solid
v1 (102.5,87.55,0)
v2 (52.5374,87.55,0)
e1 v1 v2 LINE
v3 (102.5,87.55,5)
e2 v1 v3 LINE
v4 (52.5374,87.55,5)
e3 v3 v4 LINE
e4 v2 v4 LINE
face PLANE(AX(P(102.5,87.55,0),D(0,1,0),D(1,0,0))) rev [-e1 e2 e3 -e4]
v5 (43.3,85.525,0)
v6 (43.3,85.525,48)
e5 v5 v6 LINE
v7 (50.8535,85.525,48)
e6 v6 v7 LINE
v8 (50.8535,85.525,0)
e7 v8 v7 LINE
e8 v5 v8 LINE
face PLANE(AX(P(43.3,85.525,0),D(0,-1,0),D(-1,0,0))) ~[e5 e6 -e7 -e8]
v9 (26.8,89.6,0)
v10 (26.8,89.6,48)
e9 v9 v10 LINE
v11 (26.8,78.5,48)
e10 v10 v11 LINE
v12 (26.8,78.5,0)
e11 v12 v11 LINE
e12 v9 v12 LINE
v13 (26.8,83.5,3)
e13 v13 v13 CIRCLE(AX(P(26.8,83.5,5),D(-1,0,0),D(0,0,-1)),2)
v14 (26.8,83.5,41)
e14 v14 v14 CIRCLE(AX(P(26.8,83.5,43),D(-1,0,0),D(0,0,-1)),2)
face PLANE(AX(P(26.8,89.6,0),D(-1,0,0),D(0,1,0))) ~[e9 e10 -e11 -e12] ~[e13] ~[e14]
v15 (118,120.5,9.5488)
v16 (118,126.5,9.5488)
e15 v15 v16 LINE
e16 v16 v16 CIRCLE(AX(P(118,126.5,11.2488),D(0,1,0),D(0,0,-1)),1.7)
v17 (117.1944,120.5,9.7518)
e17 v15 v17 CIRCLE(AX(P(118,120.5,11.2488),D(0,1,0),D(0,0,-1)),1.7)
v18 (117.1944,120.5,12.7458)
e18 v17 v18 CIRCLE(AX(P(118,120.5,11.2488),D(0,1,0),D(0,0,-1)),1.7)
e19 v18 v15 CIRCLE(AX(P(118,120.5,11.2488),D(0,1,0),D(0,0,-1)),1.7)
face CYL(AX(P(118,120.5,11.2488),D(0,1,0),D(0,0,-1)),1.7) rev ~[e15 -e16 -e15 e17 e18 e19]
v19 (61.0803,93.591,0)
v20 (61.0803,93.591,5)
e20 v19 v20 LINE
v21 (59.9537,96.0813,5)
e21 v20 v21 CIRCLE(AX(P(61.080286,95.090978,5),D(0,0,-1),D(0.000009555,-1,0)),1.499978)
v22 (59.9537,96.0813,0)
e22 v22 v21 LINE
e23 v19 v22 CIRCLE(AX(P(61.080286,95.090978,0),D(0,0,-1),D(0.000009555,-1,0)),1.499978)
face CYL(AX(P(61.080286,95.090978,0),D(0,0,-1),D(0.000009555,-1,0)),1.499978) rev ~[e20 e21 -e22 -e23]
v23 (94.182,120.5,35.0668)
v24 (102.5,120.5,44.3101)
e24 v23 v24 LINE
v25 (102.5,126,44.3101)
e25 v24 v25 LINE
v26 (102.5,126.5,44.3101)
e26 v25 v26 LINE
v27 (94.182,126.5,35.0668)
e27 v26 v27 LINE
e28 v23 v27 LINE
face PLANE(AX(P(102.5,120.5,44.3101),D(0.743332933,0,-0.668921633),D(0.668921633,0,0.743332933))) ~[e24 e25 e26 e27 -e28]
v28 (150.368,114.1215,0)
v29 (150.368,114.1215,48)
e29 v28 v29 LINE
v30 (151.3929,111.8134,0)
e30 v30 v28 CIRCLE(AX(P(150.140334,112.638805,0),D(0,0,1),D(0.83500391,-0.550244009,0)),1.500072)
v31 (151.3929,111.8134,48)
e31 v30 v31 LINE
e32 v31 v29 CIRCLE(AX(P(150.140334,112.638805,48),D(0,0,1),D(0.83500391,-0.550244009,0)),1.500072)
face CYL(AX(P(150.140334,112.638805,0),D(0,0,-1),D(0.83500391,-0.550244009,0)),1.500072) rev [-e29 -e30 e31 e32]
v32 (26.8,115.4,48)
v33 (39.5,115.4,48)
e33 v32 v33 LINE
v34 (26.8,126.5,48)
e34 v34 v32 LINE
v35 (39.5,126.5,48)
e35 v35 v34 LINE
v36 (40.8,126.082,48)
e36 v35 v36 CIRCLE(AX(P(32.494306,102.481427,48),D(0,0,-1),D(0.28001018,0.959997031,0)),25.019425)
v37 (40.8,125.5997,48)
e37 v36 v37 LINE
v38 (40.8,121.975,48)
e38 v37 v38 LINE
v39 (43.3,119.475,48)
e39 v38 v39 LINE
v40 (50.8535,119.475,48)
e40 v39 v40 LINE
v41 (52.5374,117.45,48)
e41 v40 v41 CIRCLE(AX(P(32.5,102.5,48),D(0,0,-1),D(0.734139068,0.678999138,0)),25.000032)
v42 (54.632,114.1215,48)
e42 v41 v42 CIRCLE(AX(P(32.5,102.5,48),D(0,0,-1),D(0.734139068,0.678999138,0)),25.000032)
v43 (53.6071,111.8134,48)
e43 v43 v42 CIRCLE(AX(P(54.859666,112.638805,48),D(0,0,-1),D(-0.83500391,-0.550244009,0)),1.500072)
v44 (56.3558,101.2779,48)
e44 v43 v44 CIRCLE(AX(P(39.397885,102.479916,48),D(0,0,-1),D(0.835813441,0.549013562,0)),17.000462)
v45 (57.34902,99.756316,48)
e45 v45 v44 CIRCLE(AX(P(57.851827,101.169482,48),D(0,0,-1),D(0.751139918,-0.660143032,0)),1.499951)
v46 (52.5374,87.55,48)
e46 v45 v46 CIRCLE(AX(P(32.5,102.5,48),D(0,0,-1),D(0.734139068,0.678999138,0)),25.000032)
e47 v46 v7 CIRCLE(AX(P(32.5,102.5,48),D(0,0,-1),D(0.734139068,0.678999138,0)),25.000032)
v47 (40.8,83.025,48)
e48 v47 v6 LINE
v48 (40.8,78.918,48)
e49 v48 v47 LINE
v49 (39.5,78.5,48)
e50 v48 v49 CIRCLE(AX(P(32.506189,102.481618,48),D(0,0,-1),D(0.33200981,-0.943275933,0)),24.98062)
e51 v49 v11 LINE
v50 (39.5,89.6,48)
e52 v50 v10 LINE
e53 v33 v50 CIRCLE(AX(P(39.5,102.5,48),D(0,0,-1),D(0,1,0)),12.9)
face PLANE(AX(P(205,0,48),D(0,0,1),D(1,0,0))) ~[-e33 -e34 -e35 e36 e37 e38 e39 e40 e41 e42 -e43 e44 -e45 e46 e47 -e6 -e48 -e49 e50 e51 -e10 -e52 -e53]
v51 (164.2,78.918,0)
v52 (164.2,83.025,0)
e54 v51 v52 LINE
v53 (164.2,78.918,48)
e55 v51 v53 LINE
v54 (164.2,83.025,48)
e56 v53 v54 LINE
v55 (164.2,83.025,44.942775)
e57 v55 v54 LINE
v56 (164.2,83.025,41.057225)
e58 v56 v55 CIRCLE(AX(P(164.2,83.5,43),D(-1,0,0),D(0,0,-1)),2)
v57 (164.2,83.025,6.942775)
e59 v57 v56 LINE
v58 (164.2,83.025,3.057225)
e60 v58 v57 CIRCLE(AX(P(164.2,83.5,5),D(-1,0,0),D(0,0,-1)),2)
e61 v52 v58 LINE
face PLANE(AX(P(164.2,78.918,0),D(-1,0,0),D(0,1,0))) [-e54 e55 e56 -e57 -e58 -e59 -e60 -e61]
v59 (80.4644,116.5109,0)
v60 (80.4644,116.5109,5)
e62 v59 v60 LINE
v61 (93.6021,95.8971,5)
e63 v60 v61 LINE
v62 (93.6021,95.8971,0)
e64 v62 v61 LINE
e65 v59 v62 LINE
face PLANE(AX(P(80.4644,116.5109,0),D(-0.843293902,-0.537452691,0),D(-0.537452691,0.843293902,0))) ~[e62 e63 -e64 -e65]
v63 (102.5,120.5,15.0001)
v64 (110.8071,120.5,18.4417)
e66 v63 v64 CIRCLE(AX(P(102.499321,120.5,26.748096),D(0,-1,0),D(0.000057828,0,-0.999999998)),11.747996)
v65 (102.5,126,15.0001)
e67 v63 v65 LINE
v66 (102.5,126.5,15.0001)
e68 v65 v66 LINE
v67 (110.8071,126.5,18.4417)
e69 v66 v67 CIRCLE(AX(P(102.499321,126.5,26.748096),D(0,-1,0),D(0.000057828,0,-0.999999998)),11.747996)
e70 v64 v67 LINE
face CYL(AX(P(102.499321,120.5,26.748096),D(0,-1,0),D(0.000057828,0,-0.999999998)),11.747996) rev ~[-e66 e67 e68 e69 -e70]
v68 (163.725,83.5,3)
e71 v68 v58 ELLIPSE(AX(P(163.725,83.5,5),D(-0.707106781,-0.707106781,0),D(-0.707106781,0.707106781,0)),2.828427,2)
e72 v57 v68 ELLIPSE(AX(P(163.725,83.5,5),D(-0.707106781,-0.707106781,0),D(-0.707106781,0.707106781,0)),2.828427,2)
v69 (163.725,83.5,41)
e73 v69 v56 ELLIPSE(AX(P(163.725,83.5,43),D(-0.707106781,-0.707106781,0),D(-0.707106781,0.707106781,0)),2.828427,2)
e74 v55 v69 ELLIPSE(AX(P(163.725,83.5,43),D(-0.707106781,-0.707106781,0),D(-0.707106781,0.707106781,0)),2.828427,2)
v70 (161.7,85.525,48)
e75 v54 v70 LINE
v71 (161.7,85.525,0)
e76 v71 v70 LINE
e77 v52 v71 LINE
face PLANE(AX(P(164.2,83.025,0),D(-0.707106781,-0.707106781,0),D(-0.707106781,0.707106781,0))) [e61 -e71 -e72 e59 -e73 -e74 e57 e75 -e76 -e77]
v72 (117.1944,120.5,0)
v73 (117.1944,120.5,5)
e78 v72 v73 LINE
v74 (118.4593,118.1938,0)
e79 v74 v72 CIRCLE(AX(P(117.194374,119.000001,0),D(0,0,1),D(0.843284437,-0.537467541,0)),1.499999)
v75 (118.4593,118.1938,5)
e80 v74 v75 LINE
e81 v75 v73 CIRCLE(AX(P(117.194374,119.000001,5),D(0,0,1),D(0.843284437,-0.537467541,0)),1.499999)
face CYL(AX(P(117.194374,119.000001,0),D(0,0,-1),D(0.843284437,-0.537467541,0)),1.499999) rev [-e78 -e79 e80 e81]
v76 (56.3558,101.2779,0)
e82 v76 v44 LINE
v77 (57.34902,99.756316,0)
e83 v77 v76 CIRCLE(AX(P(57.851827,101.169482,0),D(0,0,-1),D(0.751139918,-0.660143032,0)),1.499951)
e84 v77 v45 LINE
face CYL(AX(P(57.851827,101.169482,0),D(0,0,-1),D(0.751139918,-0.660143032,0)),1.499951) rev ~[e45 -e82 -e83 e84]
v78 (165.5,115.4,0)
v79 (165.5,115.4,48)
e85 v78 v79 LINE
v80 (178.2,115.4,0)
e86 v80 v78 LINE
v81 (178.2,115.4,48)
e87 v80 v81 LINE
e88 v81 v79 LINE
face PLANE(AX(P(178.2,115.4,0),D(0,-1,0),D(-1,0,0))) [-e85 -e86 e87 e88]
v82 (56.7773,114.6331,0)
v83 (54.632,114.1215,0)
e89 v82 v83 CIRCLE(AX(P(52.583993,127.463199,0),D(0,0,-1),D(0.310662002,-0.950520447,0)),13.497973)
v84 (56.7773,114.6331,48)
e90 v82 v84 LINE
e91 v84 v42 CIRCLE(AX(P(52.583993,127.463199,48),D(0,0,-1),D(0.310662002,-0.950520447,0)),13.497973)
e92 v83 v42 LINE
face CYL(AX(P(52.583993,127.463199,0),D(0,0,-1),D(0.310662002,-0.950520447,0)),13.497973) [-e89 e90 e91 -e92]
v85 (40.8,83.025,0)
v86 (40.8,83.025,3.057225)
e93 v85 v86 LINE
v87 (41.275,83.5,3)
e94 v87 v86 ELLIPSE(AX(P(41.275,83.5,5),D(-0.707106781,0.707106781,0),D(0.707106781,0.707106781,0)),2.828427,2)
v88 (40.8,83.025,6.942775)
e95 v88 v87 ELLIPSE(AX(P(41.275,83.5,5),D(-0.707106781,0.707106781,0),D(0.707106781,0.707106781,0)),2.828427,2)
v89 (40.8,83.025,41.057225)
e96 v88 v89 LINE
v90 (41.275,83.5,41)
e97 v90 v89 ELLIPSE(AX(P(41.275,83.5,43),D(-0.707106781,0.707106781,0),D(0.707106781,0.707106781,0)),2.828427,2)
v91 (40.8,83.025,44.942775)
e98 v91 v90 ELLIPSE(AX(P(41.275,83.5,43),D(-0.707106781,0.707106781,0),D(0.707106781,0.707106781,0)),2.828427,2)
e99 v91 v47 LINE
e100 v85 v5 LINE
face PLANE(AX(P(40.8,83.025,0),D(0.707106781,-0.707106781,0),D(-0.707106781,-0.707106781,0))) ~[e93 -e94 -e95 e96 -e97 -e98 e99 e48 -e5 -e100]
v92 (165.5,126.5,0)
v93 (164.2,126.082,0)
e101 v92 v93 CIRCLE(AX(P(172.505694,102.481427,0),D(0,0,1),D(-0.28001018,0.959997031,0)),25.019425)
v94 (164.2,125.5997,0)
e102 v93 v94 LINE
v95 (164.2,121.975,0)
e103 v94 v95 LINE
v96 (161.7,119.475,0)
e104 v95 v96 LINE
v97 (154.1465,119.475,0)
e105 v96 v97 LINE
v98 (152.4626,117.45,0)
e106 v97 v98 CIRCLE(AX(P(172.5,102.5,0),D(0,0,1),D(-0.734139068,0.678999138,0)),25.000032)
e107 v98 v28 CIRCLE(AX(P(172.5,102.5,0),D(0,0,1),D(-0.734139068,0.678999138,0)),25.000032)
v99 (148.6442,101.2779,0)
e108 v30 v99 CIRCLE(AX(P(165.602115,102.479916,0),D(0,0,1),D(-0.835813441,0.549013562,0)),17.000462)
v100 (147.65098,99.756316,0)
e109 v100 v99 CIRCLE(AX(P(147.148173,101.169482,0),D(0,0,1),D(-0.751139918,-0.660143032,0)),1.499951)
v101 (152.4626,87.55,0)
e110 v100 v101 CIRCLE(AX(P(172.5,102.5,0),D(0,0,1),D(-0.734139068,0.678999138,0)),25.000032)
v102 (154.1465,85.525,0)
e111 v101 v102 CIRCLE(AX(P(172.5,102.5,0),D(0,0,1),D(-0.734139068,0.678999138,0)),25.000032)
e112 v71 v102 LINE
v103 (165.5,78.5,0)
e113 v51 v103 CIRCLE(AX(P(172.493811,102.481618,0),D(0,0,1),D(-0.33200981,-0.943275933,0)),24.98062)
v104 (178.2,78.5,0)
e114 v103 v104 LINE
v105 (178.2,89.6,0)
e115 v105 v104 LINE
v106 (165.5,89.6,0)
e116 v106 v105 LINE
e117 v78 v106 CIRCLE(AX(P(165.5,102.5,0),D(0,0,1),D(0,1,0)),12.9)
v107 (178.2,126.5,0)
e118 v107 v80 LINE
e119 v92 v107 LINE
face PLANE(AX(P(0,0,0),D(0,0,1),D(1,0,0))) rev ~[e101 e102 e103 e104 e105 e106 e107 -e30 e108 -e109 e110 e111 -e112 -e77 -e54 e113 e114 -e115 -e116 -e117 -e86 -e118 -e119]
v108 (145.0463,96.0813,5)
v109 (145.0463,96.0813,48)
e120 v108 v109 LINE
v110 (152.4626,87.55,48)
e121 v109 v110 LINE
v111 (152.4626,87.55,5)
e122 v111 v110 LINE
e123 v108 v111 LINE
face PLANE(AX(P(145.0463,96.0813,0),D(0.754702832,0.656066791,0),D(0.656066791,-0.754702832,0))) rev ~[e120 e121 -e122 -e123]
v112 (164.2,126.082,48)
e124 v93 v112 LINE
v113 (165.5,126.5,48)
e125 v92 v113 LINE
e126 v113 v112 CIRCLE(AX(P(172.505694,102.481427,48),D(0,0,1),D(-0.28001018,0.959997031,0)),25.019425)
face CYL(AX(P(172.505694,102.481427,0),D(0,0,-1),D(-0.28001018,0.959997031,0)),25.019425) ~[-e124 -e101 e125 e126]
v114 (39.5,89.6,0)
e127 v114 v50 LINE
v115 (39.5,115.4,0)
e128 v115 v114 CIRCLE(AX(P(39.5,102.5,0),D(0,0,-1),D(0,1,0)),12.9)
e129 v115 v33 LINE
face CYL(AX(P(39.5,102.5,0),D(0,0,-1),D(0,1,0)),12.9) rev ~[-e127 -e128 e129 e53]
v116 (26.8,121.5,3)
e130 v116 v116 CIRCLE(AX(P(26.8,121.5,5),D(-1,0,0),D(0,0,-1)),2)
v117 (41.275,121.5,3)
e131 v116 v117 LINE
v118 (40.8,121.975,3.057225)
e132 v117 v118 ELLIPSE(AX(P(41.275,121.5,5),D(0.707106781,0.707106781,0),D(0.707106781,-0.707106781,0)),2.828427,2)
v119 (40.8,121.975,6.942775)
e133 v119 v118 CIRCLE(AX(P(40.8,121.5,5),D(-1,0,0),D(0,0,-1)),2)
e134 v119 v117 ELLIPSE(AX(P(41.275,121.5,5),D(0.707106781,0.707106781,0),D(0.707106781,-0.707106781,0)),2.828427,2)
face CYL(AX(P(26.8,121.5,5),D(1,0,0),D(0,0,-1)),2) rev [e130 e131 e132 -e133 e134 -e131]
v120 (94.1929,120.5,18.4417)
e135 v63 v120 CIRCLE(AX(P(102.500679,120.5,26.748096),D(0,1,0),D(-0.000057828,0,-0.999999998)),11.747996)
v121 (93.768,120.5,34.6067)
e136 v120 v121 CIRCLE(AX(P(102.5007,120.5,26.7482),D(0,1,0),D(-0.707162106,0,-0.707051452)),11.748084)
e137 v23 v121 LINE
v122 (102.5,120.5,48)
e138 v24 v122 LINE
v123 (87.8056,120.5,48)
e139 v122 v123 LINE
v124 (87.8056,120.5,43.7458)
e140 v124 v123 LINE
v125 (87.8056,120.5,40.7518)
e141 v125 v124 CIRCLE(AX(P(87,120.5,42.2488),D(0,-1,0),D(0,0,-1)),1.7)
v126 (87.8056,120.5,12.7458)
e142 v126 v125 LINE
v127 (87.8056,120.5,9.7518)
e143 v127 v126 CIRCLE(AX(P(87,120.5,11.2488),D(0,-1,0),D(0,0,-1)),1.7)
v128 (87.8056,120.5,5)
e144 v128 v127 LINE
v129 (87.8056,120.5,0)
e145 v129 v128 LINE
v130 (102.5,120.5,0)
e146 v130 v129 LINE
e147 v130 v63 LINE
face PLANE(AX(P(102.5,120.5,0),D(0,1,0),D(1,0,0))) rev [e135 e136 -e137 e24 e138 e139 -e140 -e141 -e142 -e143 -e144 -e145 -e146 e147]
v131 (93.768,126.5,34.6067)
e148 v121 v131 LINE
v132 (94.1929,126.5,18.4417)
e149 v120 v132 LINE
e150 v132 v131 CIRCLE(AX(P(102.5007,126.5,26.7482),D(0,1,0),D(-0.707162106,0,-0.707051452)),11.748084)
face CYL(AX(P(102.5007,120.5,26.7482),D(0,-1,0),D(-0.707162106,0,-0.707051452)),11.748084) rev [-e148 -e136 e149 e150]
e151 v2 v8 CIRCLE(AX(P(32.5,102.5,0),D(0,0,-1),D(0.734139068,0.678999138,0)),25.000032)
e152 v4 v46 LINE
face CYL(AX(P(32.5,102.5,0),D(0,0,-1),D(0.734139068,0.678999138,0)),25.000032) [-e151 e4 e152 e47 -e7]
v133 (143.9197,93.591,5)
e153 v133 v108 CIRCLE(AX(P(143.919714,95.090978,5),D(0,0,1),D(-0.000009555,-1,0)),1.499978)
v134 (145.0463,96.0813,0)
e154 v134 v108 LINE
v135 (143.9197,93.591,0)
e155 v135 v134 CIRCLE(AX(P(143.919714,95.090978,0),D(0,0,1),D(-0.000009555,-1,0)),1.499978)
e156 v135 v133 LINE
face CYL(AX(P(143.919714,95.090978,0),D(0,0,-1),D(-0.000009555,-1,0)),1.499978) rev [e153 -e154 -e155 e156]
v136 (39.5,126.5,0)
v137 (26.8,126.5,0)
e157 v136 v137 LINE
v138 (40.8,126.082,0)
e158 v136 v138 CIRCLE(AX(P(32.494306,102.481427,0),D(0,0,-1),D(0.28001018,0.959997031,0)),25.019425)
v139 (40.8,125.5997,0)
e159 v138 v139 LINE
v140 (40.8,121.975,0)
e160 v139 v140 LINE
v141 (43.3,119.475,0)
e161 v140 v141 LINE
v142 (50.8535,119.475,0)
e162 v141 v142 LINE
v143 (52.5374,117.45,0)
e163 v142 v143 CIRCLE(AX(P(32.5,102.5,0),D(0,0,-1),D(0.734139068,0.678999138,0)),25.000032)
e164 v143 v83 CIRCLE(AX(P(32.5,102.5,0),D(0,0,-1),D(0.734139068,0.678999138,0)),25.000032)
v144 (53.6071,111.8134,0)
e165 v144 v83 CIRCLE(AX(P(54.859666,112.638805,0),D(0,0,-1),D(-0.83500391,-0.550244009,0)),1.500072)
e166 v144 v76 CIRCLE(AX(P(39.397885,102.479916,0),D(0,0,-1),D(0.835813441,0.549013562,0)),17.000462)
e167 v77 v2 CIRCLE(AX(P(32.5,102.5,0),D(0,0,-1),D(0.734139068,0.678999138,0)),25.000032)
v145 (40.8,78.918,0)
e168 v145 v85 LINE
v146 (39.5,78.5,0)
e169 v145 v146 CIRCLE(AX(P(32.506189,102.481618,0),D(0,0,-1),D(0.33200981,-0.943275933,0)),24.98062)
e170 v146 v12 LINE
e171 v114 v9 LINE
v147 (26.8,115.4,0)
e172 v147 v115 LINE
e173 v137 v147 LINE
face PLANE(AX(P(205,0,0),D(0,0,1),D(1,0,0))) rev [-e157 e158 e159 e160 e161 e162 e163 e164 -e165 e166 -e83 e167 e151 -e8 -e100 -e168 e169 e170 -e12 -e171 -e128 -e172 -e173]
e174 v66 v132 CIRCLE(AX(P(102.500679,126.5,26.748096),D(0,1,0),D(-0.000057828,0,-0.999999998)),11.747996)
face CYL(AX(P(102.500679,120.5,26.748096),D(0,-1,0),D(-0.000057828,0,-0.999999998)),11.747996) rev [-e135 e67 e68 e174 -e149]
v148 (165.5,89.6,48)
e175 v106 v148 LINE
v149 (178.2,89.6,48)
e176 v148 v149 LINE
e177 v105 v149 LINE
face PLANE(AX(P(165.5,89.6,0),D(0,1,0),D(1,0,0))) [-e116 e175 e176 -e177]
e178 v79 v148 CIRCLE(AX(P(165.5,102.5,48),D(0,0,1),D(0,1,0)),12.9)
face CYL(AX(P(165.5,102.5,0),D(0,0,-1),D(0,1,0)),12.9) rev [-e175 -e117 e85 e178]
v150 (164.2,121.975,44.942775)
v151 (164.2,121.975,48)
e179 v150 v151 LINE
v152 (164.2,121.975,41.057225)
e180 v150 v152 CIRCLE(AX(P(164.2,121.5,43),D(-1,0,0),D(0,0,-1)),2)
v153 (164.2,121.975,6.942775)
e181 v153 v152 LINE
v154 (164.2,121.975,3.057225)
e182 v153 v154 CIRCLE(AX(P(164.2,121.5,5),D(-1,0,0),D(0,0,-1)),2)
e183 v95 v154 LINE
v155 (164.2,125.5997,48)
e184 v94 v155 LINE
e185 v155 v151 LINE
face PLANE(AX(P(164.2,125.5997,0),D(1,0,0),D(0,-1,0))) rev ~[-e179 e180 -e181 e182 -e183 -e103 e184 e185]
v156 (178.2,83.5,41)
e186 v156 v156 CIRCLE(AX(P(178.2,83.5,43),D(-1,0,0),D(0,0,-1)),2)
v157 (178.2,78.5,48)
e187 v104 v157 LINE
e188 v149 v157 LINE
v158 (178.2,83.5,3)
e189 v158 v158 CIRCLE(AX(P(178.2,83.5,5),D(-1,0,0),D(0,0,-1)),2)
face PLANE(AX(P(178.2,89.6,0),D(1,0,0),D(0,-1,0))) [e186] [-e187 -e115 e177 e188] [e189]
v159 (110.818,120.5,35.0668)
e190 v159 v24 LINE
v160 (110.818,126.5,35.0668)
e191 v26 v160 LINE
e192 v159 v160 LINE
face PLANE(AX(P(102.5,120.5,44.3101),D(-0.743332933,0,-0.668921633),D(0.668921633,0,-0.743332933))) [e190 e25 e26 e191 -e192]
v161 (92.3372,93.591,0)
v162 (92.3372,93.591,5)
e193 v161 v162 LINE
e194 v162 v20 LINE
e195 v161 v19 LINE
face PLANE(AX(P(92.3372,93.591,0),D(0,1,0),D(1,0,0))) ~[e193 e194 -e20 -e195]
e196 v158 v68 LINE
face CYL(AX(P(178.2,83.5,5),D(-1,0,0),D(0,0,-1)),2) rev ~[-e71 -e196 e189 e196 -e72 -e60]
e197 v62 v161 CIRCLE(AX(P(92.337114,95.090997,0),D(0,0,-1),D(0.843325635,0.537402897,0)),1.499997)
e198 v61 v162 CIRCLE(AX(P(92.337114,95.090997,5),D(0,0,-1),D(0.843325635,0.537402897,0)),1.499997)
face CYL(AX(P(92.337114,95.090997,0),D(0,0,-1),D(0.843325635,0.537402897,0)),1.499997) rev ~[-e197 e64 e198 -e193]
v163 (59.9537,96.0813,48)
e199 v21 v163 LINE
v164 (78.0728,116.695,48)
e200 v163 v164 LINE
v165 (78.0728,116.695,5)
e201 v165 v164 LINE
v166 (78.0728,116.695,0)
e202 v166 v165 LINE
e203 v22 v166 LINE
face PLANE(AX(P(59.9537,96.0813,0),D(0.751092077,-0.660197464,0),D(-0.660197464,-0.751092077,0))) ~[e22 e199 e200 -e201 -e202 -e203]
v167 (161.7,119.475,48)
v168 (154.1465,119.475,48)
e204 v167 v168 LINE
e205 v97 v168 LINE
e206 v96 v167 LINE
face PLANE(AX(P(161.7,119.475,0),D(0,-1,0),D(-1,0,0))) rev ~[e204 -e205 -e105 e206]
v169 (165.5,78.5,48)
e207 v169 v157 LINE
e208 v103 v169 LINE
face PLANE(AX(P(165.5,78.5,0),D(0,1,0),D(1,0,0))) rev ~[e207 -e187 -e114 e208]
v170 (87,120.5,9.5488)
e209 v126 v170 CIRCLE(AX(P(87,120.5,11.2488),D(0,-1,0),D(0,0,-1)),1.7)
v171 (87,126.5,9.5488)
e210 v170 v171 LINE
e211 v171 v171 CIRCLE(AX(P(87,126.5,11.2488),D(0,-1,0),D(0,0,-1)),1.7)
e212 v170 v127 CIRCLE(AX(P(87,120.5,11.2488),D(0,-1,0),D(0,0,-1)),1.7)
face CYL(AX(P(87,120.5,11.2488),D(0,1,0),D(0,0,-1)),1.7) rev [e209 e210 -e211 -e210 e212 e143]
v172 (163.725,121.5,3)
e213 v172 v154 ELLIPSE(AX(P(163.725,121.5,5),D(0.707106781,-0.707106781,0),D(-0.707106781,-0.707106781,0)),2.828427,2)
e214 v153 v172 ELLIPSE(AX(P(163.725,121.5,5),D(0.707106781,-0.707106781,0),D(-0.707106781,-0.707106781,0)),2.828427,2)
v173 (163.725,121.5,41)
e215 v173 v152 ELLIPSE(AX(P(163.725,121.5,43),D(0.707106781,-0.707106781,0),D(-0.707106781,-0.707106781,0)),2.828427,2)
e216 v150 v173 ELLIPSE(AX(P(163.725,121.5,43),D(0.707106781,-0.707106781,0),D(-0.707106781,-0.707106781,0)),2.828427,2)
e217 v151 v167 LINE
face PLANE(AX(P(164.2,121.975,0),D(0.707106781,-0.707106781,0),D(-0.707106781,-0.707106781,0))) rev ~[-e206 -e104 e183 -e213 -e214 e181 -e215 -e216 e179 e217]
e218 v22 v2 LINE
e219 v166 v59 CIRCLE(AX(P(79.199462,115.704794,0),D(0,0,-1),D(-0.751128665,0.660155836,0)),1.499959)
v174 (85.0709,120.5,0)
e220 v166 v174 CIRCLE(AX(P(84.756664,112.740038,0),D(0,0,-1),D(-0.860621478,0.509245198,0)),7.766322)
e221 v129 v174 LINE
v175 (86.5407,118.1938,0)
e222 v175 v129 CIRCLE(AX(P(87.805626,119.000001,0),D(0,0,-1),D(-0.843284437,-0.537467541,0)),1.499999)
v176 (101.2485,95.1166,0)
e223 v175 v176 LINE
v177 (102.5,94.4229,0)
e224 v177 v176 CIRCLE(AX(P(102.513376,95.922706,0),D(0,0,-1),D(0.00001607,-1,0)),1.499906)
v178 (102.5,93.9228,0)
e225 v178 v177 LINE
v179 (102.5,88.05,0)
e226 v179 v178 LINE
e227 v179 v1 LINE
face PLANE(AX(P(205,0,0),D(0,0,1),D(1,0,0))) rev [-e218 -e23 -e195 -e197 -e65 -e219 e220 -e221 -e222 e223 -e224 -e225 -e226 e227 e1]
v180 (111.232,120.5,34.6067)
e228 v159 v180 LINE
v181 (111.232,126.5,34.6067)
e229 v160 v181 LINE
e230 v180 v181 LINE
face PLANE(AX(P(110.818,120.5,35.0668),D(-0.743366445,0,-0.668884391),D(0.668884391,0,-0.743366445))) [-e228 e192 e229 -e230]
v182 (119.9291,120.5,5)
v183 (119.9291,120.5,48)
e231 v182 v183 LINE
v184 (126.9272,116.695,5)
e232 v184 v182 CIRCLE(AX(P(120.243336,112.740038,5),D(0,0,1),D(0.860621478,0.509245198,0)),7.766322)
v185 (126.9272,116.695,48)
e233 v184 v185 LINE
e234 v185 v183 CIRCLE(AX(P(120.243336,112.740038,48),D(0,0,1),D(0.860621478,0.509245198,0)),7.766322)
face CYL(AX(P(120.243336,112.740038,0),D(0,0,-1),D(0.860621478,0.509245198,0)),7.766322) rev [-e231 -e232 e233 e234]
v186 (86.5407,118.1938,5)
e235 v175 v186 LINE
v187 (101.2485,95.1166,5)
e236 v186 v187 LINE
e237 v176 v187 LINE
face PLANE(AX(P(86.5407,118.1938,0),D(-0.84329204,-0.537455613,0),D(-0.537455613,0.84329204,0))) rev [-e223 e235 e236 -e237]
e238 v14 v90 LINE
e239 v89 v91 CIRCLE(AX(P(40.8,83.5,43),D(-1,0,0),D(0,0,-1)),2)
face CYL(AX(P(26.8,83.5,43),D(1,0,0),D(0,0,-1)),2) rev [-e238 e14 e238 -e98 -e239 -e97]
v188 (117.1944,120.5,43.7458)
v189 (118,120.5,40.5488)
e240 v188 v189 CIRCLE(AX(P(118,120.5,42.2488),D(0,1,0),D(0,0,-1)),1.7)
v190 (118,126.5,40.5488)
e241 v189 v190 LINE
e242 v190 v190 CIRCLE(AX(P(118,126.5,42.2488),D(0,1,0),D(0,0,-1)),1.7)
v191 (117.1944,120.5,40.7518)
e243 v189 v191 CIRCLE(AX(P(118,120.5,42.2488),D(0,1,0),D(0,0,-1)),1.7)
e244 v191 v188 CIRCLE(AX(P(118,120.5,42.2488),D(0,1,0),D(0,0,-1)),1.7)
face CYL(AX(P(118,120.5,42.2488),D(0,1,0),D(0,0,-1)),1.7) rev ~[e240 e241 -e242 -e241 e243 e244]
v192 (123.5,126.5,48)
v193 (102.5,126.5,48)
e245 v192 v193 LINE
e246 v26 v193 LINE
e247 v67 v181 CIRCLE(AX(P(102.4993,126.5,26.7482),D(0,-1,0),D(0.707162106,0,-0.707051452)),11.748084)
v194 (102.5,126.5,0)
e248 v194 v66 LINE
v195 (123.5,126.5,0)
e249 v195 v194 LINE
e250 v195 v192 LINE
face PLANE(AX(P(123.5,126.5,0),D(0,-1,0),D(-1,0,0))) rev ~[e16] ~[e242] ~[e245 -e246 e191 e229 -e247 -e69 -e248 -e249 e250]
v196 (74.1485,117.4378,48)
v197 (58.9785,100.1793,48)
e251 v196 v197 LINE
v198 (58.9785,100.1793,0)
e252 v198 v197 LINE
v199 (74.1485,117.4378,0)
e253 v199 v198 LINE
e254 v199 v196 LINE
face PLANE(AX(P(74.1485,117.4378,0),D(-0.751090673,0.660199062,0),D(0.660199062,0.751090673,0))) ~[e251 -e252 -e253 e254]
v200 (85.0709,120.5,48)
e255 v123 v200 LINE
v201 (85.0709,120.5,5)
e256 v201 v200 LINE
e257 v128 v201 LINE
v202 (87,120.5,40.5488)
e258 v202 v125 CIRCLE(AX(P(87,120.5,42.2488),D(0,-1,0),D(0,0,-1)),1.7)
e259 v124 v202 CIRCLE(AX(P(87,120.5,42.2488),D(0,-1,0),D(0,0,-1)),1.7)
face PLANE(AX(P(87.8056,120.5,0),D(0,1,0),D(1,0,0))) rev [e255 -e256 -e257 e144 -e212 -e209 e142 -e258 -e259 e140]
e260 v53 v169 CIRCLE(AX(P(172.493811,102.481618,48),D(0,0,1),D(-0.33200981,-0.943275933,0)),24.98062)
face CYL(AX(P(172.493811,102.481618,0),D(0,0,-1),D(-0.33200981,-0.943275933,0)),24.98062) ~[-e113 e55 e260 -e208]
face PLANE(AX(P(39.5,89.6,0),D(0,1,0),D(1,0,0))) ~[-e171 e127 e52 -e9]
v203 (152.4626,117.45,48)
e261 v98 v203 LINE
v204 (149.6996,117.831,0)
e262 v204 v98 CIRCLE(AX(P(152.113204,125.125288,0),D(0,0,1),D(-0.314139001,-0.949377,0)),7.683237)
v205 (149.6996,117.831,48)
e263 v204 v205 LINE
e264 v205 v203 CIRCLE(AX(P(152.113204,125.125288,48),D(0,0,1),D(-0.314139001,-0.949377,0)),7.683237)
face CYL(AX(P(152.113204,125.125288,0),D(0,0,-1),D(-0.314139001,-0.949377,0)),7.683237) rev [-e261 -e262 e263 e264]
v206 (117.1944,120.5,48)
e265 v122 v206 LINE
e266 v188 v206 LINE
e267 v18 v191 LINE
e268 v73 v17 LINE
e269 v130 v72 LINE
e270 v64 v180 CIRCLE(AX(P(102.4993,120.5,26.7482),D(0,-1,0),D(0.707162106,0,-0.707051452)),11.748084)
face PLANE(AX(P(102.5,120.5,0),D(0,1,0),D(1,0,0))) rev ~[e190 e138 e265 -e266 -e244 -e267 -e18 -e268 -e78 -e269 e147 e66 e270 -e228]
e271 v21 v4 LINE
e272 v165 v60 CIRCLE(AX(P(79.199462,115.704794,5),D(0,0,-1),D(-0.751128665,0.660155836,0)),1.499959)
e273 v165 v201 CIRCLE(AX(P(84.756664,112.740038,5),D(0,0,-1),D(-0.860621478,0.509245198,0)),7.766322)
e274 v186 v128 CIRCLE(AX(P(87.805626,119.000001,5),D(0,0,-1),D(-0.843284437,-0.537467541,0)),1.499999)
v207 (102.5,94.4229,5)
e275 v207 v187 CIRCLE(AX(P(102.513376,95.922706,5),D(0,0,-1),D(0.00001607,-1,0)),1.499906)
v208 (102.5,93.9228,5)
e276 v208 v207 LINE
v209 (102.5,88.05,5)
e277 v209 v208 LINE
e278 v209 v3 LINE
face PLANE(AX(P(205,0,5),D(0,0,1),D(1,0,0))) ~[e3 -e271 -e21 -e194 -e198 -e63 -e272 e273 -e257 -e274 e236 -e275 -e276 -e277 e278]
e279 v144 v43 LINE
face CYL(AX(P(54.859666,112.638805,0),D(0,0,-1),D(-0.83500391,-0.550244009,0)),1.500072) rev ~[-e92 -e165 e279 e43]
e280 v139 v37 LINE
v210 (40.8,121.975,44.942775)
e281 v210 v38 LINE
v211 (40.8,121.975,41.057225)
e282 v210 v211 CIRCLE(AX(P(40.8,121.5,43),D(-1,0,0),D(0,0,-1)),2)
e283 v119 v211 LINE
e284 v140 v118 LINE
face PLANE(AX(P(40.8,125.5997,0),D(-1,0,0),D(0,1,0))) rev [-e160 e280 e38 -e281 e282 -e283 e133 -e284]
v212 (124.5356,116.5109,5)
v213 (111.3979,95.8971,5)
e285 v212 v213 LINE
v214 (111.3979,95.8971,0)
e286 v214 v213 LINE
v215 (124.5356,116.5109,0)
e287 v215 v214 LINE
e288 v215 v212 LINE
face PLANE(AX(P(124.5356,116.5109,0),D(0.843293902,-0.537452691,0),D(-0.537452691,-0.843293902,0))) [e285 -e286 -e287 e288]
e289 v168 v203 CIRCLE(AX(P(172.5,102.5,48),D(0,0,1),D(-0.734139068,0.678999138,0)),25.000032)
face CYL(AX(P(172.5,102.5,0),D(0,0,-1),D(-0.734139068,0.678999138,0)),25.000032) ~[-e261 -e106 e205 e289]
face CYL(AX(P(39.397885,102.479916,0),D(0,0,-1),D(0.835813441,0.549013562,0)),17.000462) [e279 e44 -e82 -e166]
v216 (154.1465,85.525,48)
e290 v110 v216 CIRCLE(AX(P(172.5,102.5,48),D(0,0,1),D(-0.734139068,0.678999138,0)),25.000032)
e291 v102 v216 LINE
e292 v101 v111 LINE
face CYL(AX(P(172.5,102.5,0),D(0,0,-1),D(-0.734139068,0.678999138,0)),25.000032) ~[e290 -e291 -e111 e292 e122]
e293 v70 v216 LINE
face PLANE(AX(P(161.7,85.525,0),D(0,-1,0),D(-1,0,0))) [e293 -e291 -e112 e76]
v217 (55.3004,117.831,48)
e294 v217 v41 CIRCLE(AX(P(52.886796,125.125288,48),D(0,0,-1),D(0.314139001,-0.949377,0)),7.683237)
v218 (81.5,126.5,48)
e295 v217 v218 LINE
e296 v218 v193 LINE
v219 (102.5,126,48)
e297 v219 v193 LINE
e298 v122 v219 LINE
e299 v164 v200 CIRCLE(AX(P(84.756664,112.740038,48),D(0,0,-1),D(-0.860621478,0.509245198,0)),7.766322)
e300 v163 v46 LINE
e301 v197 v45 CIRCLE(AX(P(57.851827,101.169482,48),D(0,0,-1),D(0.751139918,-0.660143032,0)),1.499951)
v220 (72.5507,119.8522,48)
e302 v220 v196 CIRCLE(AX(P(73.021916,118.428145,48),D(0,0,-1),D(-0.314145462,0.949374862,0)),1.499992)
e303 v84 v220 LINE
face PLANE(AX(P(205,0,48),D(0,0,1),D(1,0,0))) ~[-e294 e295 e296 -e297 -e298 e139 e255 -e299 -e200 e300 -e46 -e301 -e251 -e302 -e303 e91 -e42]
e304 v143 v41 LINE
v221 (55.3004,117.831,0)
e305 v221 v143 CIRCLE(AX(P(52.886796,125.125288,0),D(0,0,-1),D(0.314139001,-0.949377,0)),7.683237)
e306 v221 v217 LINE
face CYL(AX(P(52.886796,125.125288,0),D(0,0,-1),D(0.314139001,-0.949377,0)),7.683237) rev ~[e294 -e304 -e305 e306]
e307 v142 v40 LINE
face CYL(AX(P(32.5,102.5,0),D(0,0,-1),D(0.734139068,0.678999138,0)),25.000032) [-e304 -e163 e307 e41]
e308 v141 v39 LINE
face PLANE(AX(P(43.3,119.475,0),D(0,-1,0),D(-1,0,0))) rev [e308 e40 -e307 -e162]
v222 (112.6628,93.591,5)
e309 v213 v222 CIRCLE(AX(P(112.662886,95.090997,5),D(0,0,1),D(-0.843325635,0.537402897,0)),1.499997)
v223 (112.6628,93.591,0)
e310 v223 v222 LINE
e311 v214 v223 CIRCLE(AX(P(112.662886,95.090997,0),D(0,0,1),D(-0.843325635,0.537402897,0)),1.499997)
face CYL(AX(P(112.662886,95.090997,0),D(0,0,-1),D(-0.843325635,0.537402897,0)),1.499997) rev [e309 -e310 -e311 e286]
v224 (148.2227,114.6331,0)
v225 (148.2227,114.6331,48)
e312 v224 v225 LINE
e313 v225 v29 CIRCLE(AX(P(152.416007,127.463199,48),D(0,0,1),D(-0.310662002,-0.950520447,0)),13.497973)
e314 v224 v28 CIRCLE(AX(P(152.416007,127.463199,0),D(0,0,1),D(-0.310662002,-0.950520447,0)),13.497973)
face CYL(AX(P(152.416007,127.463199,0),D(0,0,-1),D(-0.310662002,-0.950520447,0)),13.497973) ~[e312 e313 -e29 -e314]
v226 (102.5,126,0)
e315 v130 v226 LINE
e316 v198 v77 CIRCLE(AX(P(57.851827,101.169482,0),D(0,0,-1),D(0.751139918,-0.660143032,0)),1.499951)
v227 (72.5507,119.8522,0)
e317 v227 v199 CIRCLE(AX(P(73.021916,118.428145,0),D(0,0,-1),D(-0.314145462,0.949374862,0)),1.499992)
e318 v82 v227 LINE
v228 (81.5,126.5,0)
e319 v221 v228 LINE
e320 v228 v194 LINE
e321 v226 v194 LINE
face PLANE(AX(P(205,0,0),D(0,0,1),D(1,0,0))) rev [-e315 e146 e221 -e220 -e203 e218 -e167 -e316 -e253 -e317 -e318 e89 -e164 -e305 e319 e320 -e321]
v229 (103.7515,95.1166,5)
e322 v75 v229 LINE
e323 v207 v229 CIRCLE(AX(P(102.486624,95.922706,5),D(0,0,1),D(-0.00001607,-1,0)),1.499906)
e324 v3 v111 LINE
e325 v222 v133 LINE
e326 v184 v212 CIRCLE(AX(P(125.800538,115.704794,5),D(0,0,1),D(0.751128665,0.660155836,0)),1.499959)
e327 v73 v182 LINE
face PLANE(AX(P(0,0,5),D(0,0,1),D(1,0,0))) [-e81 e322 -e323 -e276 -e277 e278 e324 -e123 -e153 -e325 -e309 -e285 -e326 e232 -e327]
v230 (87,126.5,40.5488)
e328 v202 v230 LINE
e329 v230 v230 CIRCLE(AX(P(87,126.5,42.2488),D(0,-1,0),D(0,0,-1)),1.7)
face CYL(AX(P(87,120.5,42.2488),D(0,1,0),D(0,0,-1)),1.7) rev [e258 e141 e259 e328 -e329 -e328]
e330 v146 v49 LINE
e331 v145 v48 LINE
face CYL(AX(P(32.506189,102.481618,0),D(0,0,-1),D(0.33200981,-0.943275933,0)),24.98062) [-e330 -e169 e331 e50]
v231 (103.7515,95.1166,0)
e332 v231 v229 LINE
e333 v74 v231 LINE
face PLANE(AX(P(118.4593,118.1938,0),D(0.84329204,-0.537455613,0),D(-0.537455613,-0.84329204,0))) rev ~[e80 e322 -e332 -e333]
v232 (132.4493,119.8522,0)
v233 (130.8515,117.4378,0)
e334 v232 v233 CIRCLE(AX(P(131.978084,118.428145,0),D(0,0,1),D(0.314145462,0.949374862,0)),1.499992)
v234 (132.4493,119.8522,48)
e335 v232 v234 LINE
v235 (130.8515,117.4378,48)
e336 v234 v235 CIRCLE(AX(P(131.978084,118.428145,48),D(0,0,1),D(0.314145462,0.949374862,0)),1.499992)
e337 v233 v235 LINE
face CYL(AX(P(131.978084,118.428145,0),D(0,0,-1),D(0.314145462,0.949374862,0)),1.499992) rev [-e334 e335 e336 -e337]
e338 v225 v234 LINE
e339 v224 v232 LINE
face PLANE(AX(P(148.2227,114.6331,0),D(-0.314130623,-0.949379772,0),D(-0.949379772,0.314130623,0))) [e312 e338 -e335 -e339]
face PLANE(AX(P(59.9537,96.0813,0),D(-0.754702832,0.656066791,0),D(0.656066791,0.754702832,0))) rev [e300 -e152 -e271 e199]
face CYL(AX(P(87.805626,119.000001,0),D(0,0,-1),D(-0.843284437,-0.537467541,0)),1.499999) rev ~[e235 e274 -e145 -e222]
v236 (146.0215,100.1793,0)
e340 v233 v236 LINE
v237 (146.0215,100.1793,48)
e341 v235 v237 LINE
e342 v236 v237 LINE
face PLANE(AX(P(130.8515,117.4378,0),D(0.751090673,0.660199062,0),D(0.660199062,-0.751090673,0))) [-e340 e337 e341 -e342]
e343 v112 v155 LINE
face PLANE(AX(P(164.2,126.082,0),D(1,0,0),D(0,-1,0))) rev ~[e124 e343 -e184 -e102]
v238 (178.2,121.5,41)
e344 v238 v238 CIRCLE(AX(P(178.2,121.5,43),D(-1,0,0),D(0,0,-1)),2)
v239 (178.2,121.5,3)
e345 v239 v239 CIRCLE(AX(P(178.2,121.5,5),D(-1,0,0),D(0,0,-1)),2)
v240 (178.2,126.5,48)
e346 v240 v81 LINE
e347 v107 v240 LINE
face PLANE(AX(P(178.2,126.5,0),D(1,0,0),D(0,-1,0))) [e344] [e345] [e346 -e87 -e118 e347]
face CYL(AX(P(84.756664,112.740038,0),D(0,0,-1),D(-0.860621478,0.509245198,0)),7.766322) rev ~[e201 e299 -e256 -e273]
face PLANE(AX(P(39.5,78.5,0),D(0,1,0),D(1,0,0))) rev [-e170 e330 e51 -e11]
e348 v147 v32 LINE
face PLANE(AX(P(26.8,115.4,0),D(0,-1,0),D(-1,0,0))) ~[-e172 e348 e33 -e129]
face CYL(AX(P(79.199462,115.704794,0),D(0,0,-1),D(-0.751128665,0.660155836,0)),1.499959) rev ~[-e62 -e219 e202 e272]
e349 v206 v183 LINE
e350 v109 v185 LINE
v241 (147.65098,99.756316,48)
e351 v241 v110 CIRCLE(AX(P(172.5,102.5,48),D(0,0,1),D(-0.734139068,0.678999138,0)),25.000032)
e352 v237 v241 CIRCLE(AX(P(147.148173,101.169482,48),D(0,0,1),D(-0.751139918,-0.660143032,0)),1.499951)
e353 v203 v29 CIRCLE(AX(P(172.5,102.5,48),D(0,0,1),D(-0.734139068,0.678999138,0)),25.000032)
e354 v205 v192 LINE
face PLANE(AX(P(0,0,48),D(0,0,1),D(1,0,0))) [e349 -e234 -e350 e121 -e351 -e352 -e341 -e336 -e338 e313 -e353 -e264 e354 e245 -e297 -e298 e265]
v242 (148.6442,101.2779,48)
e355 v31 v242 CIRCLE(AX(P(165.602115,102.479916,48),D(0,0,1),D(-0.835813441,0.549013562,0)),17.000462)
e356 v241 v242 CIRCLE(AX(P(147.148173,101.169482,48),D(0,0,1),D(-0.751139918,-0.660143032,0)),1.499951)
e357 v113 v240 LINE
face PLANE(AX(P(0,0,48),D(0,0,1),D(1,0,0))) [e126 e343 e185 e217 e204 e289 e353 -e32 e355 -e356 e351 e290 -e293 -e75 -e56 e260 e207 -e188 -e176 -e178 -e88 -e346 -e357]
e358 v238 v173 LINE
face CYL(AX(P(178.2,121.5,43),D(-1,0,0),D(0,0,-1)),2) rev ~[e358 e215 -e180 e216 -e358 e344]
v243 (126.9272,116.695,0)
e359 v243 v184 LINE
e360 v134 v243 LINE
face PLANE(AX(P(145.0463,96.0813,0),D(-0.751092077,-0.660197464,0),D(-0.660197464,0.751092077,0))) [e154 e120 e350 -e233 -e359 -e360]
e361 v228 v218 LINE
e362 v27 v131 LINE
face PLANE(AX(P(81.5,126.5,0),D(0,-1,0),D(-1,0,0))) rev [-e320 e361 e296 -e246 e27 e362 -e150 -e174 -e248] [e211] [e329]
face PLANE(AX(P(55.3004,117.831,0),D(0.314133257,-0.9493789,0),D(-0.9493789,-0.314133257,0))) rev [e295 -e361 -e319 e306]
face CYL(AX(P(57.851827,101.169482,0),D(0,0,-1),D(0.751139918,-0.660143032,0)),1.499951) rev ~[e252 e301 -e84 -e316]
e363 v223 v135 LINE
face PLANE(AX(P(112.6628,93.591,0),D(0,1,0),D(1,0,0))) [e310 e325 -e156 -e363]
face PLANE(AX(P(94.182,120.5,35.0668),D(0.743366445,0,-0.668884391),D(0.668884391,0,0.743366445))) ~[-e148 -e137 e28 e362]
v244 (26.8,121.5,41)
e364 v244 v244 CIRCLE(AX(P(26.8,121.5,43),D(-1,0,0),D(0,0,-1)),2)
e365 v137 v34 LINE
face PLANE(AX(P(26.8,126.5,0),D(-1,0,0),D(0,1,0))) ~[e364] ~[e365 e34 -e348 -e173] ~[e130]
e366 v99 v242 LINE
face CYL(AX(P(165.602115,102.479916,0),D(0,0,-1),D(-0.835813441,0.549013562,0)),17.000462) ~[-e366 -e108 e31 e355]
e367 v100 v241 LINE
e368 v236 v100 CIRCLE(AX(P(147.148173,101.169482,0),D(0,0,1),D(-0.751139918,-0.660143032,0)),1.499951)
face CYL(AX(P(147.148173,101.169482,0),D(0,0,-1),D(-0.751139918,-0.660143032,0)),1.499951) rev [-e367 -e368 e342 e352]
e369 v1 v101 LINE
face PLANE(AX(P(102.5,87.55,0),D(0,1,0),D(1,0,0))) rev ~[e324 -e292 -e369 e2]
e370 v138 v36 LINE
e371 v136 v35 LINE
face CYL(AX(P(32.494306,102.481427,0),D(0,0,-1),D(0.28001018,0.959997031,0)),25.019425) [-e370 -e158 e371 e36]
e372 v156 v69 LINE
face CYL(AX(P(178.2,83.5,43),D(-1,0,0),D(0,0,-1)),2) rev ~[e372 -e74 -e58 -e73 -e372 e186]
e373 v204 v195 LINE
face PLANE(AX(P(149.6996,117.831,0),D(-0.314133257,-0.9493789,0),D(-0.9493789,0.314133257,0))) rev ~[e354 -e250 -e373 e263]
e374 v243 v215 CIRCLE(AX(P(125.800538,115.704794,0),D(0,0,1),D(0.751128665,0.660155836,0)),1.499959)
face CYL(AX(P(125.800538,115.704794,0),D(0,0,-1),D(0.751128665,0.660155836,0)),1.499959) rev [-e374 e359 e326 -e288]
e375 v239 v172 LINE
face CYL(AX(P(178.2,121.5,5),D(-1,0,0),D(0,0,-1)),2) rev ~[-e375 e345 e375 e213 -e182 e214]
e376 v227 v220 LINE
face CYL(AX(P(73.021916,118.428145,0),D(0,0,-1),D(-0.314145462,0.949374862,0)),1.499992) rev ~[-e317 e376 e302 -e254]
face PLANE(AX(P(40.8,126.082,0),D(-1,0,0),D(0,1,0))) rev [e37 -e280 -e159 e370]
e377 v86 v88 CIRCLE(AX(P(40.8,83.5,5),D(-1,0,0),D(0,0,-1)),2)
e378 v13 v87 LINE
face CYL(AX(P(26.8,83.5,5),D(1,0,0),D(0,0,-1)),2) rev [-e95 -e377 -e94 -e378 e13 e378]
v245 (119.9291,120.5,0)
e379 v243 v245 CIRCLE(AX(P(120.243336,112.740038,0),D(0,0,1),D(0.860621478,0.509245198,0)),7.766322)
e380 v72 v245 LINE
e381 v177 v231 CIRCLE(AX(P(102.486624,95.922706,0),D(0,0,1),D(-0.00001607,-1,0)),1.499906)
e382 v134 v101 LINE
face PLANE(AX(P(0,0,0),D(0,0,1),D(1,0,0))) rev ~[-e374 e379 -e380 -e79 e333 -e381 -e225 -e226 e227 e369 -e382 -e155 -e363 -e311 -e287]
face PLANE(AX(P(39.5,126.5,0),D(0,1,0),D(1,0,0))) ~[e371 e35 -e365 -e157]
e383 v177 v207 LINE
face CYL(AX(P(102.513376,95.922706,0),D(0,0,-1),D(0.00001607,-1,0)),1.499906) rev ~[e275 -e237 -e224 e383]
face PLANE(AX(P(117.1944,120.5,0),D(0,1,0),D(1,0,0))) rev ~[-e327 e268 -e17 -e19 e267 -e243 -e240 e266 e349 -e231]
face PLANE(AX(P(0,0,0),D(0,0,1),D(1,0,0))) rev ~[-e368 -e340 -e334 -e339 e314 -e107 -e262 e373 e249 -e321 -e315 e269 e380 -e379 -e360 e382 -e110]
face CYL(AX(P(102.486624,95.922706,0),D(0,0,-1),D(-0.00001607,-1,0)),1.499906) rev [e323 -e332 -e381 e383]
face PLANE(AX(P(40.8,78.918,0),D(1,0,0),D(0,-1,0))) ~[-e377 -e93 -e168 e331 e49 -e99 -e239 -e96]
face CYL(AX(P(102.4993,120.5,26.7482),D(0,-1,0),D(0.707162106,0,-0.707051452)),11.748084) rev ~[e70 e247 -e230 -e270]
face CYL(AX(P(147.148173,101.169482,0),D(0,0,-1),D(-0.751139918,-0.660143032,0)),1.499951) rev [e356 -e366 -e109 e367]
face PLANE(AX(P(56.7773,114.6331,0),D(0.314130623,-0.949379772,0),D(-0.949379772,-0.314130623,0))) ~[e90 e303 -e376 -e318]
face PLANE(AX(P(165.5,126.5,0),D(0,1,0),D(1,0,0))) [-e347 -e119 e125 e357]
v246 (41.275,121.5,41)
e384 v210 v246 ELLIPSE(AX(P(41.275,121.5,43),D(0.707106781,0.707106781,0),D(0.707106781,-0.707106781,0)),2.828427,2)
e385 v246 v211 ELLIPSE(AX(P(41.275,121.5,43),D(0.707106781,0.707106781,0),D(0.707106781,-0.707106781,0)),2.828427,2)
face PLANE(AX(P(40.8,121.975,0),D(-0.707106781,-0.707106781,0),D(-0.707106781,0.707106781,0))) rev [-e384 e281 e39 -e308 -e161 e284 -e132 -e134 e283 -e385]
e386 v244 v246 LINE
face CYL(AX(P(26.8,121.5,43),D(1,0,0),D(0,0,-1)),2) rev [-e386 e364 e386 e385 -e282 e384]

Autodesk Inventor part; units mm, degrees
ref_plane "YZ Plane" through (0, 0, 0) normal (1, 0, 0) x (0, 1, 0)
ref_plane "XZ Plane" through (0, 0, 0) normal (0, 1, 0) x (-1, 0, 0)
ref_plane "XY Plane" through (0, 0, 0) normal (0, 0, 1) x (1, 0, 0)
sketch "Sketch1" plane through (0, 0, 0) normal (0, 0, 1) x (1, 0, 0)
  line L0 (102.5, 88.05) -> (102.5, 93.9228)
  line L1 (124.5356, 116.5109) -> (111.3979, 95.8971)
  arc A0 (111.3979, 95.8971) -> (112.6628, 93.591) centre (112.6628, 95.091) ccw
  line L2 (112.6628, 93.591) -> (143.9197, 93.591)
  arc A1 (143.9197, 93.591) -> (145.0463, 96.0813) centre (143.9197, 95.091) ccw
  line L3 (145.0463, 96.0813) -> (126.9272, 116.695)
  arc A2 (126.9272, 116.695) -> (124.5356, 116.5109) centre (125.8005, 115.7047) ccw
  line L4 (102.5, 120.5) -> (117.1944, 120.5)
  arc A3 (118.4593, 118.1938) -> (117.1944, 120.5) centre (117.1944, 119) ccw
  line L5 (118.4593, 118.1938) -> (103.7515, 95.1166)
  arc A4 (102.4866, 94.4228) -> (103.7515, 95.1166) centre (102.4866, 95.9228) ccw
  line L6 (102.5, 120.5) -> (102.5, 126)
  line L7 (102.5, 94.4229) -> (102.5, 120.5)
  line L8 (102.5, 93.9228) -> (102.5, 94.4229)
  arc A5 (165.5, 126.5) -> (164.2, 126.082) centre (172.5, 102.5) ccw
  line L9 (178.2, 126.5) -> (178.2, 115.4)
  line L10 (178.2, 115.4) -> (165.5, 115.4)
  arc A6 (165.5, 115.4) -> (165.5, 89.6) centre (165.5, 102.5) ccw
  line L11 (165.5, 89.6) -> (178.2, 89.6)
  line L12 (178.2, 89.6) -> (178.2, 78.5)
  line L13 (165.5, 78.5) -> (178.2, 78.5)
  line L14 (165.5, 126.5) -> (178.2, 126.5)
  arc A7 (151.3929, 111.8134) -> (150.368, 114.1215) centre (150.1404, 112.6388) ccw
  arc A8 (148.2227, 114.6331) -> (150.368, 114.1215) centre (152.4166, 127.4653) ccw
  line L15 (148.2227, 114.6331) -> (132.4493, 119.8522)
  arc A9 (132.4493, 119.8522) -> (130.8515, 117.4378) centre (131.9781, 118.4281) ccw
  line L16 (130.8515, 117.4378) -> (146.0215, 100.1793)
  arc A10 (146.0215, 100.1793) -> (148.6442, 101.2779) centre (147.1482, 101.1696) ccw
  line L17 (102.5, 88.05) -> (102.5, 87.55)
  line L18 (102.5, 87.55) -> (152.4626, 87.55)
  line L19 (102.5, 126) -> (102.5, 126.5)
  line L20 (164.2, 126.082) -> (164.2, 125.5997)
  line L21 (164.2, 125.5997) -> (152.4626, 125.5997)
  line L22 (152.4626, 125.5997) -> (145.8246, 126.5)
  line L23 (145.8246, 126.5) -> (102.5, 126.5)
  arc A11 (151.3929, 111.8134) -> (148.6442, 101.2779) centre (165.6017, 102.4801) ccw
  line L24 (145.0463, 96.0813) -> (152.4626, 87.55)
  line L25 (117.1944, 120.5) -> (119.9291, 120.5)
  arc A12 (126.9272, 116.695) -> (119.9291, 120.5) centre (120.2433, 112.74) ccw
  line L26 (149.6996, 117.831) -> (123.5, 126.5) projected
  line L27 (164.2, 125.5997) -> (164.2, 121.975)
  line L28 (164.2, 121.975) -> (161.7, 119.475)
  line L29 (161.7, 119.475) -> (154.1465, 119.475)
  arc A13 (149.6996, 117.831) -> (152.4626, 117.45) centre (152.1133, 125.1257) ccw
  line L30 (164.2, 78.918) -> (164.2, 83.025)
  line L31 (164.2, 83.025) -> (161.7, 85.525)
  line L32 (161.7, 85.525) -> (154.1465, 85.525)
  arc A14 (164.2, 78.918) -> (165.5, 78.5) centre (172.5, 102.5) ccw
  arc A15 (164.2, 126.082) -> (154.1465, 119.475) centre (172.5, 102.5) ccw
  arc A16 (154.1465, 119.475) -> (154.1465, 85.525) centre (172.5, 102.5) ccw
  point P0 (0, 0)
  point P1 (177.7, 79)
  point P2 (177.7, 89.1)
  point P3 (165.5, 89.1)
  point P4 (165.5, 115.9)
  point P5 (177.7, 115.9)
  point P6 (177.7, 126)
  point P7 (164.2, 126)
  point P8 (145.0571, 96.0688)
  point P9 (162.9396, 125.5997)
  point P10 (154.1465, 85.525)
  point P11 (152.4626, 117.45)
  dimension "d10" = 25
  dimension "d14" = 0.5
  dimension "d15" = 17
extrude "Extrusion1" add sketch "Sketch1" along normal blind 48 contours A16 A10 A11 A7 L29 L28 L27 L20 A5 L14 L9 L10 A6 L11 L12 L13 A14 L30 L31 L32 | L24 L3 A12 L25 L4 L6 L19 L23 L26 A13 A16 A8 L15 A9 L16 A10
extrude "Extrusion2" add sketch "Sketch1" along normal blind 5 contours L0 L8 A4 L5 A3 L25 A12 A2 L1 A0 L2 A1 L24 L18 L17
sketch "Sketch2" plane through (102.5, 120.5, 48) normal (0, -1, 0) x (1, 0, 0)
  line L0 (0, -48) -> (14.6944, -48) projected
  line L1 (0, 0) -> (17.4291, 0) projected
  line L2 (0, -48) -> (0, 0) projected
  line L3 (0, -48) -> (49.9626, -48) projected
  line L4 (49.9626, -48) -> (49.9626, -43) projected
  line L5 (0, -43) -> (49.9626, -43) projected
  line L6 (0, -48) -> (0, -43) projected
  line L7 (15.5, -36.7512) -> (-15.5, -36.7512)
  line L8 (-15.5, -36.7512) -> (-15.5, -5.7512)
  line L9 (-15.5, -5.7512) -> (0, -5.7512)
  line L10 (15.5, -5.7512) -> (15.5, -36.7512)
  line L11 (15.5, -36.7512) -> (-15.5, -5.7512) construction
  line L12 (-15.5, -36.7512) -> (15.5, -5.7512) construction
  arc A0 (8.3071, -29.5583) -> (8.3065, -12.9447) centre (-0.0007, -21.2518) ccw
  line L13 (0, -3.6899) -> (8.318, -12.9332)
  arc A1 (0, -32.9999) -> (8.3071, -29.5583) centre (-0.0007, -21.2518) ccw
  arc A2 (8.3065, -12.9447) -> (0, -32.9999) centre (-0.0007, -21.2518) ccw
  line L14 (8.318, -12.9332) -> (8.732, -13.3933)
  line L15 (1.855, -5.7512) -> (15.5, -5.7512)
  line L16 (0, -5.7512) -> (1.855, -5.7512)
  line L17 (0, -3.6899) -> (0, -5.7512)
  line L18 (17.4291, -43) -> (17.4291, 0) projected
  line L19 (14.6944, -43) -> (14.6944, -48) projected
  line L20 (14.6944, -43) -> (17.4291, -43) projected
  point P0 (-102.5, -48)
  point P1 (0, -21.2512)
  point P2 (15.5, -36.7512)
  dimension "d21" = 31
  dimension "d22" = 31
extrude "Extrusion3" cut sketch "Sketch2" against normal through all contours L2 A2 A0 A1 | L2 L16 L13 L14 A0 A2 | L2 L13 L16
hole "Hole1" at (118, 120.5, 42.2488) at (118, 120.5, 11.2488) direction (0, 1, 0) diameter 3.4 end through all clearance for "Countersunk Flat Head Screw ISO 2009/7046" size "M3" standard "ISO"
sketch "Sketch4" plane through (178.2, 78.5, 0) normal (1, 0, 0) x (0, 0, -1)
  line L0 (0, 0) -> (0, 11.1) projected
  line L1 (0, 11.1) -> (-48, 11.1) projected
  line L2 (-48, 0) -> (-48, 11.1) projected
  line L3 (0, 0) -> (-48, 0) projected
  line L4 (0, 36.9) -> (0, 48) projected
  line L5 (0, 48) -> (-48, 48) projected
  line L6 (-48, 36.9) -> (-48, 48) projected
  line L7 (0, 36.9) -> (-48, 36.9) projected
  line L8 (-44.3101, 48) -> (-48, 48) projected
  line L9 (0, 0) -> (-48, 48)
  line L10 (-48, 0.418) -> (-48, 0) projected
  line L11 (0, 48) -> (0, 42) projected
  line L12 (-48, 0) -> (0, 48)
  line L13 (-5, 5) -> (-43, 5)
  line L14 (-43, 5) -> (-43, 43)
  line L15 (-43, 43) -> (-5, 43)
  line L16 (-5, 43) -> (-5, 5)
  line L17 (-5, 5) -> (-43, 43) construction
  line L18 (-43, 5) -> (-5, 43) construction
  point P0 (0, -78.5)
  point P1 (-24, 24)
  dimension "d33" = 38
  dimension "d34" = 38
hole "Hole2" at (178.2, 121.5, 5) at (178.2, 121.5, 43) at (178.2, 83.5, 43) at (178.2, 83.5, 5) direction (-1, 0, 0) diameter 4 depth 18
sketch "Sketch5" plane through (178.2, 78.5, 0) normal (1, 0, 0) x (0, 0, -1)
  circle A0 centre (-43, 5) radius 2 projected
  circle A1 centre (-5, 5) radius 2 projected
  line L0 (0, 0) -> (0, 11.1) projected
  line L1 (0, 11.1) -> (-48, 11.1) projected
  line L2 (-48, 0) -> (-48, 11.1) projected
  line L3 (0, 0) -> (-48, 0) projected
  circle A2 centre (-5, 43) radius 2 projected
  circle A3 centre (-43, 43) radius 2 projected
  line L4 (0, 36.9) -> (0, 48) projected
  line L5 (0, 48) -> (-48, 48) projected
  line L6 (-48, 36.9) -> (-48, 48) projected
  line L7 (0, 36.9) -> (-48, 36.9) projected
  line L8 (-48, 39.331) -> (-48, 48) projected
  line L9 (0, 0) -> (-48, 48)
  line L10 (0, 48) -> (-15.0001, 48) projected
  line L11 (-48, 0) -> (0, 48)
  point P0 (0, -78.5)
  point P1 (-24, 24)
mirror "Mirror1" about plane through (102.5, 94.4229, 0) normal (-1, 0, 0)
sketch "Sketch6" plane through (26.8, 78.5001, 0) normal (-1, 0, 0) x (0, 0, 1)
  circle A0 centre (43, 5) radius 2 projected
  circle A1 centre (5, 5) radius 2 projected
  line L0 (0, 0) -> (0, 11.1) projected
  line L1 (0, 0) -> (48, 0) projected
  line L2 (48, 0) -> (48, 11.1) projected
  line L3 (0, 11.1) -> (48, 11.1) projected
  circle A2 centre (5, 43) radius 2 projected
  circle A3 centre (43, 43) radius 2 projected
  line L4 (0, 36.9) -> (0, 48) projected
  line L5 (0, 36.9) -> (48, 36.9) projected
  line L6 (48, 36.9) -> (48, 48) projected
  line L7 (0, 48) -> (48, 48) projected
  line L8 (48, 0.0001) -> (48, 11.1001) projected
  line L9 (0, 48) -> (0, 48) projected
  line L10 (48, 0.0001) -> (0, 48)
  line L11 (0, 48) -> (48, 48) projected
  line L12 (0, 0) -> (48, 48)
  point P0 (0, -78.5001)
  point P1 (24, 24)
properties part number "XZ_Main"
